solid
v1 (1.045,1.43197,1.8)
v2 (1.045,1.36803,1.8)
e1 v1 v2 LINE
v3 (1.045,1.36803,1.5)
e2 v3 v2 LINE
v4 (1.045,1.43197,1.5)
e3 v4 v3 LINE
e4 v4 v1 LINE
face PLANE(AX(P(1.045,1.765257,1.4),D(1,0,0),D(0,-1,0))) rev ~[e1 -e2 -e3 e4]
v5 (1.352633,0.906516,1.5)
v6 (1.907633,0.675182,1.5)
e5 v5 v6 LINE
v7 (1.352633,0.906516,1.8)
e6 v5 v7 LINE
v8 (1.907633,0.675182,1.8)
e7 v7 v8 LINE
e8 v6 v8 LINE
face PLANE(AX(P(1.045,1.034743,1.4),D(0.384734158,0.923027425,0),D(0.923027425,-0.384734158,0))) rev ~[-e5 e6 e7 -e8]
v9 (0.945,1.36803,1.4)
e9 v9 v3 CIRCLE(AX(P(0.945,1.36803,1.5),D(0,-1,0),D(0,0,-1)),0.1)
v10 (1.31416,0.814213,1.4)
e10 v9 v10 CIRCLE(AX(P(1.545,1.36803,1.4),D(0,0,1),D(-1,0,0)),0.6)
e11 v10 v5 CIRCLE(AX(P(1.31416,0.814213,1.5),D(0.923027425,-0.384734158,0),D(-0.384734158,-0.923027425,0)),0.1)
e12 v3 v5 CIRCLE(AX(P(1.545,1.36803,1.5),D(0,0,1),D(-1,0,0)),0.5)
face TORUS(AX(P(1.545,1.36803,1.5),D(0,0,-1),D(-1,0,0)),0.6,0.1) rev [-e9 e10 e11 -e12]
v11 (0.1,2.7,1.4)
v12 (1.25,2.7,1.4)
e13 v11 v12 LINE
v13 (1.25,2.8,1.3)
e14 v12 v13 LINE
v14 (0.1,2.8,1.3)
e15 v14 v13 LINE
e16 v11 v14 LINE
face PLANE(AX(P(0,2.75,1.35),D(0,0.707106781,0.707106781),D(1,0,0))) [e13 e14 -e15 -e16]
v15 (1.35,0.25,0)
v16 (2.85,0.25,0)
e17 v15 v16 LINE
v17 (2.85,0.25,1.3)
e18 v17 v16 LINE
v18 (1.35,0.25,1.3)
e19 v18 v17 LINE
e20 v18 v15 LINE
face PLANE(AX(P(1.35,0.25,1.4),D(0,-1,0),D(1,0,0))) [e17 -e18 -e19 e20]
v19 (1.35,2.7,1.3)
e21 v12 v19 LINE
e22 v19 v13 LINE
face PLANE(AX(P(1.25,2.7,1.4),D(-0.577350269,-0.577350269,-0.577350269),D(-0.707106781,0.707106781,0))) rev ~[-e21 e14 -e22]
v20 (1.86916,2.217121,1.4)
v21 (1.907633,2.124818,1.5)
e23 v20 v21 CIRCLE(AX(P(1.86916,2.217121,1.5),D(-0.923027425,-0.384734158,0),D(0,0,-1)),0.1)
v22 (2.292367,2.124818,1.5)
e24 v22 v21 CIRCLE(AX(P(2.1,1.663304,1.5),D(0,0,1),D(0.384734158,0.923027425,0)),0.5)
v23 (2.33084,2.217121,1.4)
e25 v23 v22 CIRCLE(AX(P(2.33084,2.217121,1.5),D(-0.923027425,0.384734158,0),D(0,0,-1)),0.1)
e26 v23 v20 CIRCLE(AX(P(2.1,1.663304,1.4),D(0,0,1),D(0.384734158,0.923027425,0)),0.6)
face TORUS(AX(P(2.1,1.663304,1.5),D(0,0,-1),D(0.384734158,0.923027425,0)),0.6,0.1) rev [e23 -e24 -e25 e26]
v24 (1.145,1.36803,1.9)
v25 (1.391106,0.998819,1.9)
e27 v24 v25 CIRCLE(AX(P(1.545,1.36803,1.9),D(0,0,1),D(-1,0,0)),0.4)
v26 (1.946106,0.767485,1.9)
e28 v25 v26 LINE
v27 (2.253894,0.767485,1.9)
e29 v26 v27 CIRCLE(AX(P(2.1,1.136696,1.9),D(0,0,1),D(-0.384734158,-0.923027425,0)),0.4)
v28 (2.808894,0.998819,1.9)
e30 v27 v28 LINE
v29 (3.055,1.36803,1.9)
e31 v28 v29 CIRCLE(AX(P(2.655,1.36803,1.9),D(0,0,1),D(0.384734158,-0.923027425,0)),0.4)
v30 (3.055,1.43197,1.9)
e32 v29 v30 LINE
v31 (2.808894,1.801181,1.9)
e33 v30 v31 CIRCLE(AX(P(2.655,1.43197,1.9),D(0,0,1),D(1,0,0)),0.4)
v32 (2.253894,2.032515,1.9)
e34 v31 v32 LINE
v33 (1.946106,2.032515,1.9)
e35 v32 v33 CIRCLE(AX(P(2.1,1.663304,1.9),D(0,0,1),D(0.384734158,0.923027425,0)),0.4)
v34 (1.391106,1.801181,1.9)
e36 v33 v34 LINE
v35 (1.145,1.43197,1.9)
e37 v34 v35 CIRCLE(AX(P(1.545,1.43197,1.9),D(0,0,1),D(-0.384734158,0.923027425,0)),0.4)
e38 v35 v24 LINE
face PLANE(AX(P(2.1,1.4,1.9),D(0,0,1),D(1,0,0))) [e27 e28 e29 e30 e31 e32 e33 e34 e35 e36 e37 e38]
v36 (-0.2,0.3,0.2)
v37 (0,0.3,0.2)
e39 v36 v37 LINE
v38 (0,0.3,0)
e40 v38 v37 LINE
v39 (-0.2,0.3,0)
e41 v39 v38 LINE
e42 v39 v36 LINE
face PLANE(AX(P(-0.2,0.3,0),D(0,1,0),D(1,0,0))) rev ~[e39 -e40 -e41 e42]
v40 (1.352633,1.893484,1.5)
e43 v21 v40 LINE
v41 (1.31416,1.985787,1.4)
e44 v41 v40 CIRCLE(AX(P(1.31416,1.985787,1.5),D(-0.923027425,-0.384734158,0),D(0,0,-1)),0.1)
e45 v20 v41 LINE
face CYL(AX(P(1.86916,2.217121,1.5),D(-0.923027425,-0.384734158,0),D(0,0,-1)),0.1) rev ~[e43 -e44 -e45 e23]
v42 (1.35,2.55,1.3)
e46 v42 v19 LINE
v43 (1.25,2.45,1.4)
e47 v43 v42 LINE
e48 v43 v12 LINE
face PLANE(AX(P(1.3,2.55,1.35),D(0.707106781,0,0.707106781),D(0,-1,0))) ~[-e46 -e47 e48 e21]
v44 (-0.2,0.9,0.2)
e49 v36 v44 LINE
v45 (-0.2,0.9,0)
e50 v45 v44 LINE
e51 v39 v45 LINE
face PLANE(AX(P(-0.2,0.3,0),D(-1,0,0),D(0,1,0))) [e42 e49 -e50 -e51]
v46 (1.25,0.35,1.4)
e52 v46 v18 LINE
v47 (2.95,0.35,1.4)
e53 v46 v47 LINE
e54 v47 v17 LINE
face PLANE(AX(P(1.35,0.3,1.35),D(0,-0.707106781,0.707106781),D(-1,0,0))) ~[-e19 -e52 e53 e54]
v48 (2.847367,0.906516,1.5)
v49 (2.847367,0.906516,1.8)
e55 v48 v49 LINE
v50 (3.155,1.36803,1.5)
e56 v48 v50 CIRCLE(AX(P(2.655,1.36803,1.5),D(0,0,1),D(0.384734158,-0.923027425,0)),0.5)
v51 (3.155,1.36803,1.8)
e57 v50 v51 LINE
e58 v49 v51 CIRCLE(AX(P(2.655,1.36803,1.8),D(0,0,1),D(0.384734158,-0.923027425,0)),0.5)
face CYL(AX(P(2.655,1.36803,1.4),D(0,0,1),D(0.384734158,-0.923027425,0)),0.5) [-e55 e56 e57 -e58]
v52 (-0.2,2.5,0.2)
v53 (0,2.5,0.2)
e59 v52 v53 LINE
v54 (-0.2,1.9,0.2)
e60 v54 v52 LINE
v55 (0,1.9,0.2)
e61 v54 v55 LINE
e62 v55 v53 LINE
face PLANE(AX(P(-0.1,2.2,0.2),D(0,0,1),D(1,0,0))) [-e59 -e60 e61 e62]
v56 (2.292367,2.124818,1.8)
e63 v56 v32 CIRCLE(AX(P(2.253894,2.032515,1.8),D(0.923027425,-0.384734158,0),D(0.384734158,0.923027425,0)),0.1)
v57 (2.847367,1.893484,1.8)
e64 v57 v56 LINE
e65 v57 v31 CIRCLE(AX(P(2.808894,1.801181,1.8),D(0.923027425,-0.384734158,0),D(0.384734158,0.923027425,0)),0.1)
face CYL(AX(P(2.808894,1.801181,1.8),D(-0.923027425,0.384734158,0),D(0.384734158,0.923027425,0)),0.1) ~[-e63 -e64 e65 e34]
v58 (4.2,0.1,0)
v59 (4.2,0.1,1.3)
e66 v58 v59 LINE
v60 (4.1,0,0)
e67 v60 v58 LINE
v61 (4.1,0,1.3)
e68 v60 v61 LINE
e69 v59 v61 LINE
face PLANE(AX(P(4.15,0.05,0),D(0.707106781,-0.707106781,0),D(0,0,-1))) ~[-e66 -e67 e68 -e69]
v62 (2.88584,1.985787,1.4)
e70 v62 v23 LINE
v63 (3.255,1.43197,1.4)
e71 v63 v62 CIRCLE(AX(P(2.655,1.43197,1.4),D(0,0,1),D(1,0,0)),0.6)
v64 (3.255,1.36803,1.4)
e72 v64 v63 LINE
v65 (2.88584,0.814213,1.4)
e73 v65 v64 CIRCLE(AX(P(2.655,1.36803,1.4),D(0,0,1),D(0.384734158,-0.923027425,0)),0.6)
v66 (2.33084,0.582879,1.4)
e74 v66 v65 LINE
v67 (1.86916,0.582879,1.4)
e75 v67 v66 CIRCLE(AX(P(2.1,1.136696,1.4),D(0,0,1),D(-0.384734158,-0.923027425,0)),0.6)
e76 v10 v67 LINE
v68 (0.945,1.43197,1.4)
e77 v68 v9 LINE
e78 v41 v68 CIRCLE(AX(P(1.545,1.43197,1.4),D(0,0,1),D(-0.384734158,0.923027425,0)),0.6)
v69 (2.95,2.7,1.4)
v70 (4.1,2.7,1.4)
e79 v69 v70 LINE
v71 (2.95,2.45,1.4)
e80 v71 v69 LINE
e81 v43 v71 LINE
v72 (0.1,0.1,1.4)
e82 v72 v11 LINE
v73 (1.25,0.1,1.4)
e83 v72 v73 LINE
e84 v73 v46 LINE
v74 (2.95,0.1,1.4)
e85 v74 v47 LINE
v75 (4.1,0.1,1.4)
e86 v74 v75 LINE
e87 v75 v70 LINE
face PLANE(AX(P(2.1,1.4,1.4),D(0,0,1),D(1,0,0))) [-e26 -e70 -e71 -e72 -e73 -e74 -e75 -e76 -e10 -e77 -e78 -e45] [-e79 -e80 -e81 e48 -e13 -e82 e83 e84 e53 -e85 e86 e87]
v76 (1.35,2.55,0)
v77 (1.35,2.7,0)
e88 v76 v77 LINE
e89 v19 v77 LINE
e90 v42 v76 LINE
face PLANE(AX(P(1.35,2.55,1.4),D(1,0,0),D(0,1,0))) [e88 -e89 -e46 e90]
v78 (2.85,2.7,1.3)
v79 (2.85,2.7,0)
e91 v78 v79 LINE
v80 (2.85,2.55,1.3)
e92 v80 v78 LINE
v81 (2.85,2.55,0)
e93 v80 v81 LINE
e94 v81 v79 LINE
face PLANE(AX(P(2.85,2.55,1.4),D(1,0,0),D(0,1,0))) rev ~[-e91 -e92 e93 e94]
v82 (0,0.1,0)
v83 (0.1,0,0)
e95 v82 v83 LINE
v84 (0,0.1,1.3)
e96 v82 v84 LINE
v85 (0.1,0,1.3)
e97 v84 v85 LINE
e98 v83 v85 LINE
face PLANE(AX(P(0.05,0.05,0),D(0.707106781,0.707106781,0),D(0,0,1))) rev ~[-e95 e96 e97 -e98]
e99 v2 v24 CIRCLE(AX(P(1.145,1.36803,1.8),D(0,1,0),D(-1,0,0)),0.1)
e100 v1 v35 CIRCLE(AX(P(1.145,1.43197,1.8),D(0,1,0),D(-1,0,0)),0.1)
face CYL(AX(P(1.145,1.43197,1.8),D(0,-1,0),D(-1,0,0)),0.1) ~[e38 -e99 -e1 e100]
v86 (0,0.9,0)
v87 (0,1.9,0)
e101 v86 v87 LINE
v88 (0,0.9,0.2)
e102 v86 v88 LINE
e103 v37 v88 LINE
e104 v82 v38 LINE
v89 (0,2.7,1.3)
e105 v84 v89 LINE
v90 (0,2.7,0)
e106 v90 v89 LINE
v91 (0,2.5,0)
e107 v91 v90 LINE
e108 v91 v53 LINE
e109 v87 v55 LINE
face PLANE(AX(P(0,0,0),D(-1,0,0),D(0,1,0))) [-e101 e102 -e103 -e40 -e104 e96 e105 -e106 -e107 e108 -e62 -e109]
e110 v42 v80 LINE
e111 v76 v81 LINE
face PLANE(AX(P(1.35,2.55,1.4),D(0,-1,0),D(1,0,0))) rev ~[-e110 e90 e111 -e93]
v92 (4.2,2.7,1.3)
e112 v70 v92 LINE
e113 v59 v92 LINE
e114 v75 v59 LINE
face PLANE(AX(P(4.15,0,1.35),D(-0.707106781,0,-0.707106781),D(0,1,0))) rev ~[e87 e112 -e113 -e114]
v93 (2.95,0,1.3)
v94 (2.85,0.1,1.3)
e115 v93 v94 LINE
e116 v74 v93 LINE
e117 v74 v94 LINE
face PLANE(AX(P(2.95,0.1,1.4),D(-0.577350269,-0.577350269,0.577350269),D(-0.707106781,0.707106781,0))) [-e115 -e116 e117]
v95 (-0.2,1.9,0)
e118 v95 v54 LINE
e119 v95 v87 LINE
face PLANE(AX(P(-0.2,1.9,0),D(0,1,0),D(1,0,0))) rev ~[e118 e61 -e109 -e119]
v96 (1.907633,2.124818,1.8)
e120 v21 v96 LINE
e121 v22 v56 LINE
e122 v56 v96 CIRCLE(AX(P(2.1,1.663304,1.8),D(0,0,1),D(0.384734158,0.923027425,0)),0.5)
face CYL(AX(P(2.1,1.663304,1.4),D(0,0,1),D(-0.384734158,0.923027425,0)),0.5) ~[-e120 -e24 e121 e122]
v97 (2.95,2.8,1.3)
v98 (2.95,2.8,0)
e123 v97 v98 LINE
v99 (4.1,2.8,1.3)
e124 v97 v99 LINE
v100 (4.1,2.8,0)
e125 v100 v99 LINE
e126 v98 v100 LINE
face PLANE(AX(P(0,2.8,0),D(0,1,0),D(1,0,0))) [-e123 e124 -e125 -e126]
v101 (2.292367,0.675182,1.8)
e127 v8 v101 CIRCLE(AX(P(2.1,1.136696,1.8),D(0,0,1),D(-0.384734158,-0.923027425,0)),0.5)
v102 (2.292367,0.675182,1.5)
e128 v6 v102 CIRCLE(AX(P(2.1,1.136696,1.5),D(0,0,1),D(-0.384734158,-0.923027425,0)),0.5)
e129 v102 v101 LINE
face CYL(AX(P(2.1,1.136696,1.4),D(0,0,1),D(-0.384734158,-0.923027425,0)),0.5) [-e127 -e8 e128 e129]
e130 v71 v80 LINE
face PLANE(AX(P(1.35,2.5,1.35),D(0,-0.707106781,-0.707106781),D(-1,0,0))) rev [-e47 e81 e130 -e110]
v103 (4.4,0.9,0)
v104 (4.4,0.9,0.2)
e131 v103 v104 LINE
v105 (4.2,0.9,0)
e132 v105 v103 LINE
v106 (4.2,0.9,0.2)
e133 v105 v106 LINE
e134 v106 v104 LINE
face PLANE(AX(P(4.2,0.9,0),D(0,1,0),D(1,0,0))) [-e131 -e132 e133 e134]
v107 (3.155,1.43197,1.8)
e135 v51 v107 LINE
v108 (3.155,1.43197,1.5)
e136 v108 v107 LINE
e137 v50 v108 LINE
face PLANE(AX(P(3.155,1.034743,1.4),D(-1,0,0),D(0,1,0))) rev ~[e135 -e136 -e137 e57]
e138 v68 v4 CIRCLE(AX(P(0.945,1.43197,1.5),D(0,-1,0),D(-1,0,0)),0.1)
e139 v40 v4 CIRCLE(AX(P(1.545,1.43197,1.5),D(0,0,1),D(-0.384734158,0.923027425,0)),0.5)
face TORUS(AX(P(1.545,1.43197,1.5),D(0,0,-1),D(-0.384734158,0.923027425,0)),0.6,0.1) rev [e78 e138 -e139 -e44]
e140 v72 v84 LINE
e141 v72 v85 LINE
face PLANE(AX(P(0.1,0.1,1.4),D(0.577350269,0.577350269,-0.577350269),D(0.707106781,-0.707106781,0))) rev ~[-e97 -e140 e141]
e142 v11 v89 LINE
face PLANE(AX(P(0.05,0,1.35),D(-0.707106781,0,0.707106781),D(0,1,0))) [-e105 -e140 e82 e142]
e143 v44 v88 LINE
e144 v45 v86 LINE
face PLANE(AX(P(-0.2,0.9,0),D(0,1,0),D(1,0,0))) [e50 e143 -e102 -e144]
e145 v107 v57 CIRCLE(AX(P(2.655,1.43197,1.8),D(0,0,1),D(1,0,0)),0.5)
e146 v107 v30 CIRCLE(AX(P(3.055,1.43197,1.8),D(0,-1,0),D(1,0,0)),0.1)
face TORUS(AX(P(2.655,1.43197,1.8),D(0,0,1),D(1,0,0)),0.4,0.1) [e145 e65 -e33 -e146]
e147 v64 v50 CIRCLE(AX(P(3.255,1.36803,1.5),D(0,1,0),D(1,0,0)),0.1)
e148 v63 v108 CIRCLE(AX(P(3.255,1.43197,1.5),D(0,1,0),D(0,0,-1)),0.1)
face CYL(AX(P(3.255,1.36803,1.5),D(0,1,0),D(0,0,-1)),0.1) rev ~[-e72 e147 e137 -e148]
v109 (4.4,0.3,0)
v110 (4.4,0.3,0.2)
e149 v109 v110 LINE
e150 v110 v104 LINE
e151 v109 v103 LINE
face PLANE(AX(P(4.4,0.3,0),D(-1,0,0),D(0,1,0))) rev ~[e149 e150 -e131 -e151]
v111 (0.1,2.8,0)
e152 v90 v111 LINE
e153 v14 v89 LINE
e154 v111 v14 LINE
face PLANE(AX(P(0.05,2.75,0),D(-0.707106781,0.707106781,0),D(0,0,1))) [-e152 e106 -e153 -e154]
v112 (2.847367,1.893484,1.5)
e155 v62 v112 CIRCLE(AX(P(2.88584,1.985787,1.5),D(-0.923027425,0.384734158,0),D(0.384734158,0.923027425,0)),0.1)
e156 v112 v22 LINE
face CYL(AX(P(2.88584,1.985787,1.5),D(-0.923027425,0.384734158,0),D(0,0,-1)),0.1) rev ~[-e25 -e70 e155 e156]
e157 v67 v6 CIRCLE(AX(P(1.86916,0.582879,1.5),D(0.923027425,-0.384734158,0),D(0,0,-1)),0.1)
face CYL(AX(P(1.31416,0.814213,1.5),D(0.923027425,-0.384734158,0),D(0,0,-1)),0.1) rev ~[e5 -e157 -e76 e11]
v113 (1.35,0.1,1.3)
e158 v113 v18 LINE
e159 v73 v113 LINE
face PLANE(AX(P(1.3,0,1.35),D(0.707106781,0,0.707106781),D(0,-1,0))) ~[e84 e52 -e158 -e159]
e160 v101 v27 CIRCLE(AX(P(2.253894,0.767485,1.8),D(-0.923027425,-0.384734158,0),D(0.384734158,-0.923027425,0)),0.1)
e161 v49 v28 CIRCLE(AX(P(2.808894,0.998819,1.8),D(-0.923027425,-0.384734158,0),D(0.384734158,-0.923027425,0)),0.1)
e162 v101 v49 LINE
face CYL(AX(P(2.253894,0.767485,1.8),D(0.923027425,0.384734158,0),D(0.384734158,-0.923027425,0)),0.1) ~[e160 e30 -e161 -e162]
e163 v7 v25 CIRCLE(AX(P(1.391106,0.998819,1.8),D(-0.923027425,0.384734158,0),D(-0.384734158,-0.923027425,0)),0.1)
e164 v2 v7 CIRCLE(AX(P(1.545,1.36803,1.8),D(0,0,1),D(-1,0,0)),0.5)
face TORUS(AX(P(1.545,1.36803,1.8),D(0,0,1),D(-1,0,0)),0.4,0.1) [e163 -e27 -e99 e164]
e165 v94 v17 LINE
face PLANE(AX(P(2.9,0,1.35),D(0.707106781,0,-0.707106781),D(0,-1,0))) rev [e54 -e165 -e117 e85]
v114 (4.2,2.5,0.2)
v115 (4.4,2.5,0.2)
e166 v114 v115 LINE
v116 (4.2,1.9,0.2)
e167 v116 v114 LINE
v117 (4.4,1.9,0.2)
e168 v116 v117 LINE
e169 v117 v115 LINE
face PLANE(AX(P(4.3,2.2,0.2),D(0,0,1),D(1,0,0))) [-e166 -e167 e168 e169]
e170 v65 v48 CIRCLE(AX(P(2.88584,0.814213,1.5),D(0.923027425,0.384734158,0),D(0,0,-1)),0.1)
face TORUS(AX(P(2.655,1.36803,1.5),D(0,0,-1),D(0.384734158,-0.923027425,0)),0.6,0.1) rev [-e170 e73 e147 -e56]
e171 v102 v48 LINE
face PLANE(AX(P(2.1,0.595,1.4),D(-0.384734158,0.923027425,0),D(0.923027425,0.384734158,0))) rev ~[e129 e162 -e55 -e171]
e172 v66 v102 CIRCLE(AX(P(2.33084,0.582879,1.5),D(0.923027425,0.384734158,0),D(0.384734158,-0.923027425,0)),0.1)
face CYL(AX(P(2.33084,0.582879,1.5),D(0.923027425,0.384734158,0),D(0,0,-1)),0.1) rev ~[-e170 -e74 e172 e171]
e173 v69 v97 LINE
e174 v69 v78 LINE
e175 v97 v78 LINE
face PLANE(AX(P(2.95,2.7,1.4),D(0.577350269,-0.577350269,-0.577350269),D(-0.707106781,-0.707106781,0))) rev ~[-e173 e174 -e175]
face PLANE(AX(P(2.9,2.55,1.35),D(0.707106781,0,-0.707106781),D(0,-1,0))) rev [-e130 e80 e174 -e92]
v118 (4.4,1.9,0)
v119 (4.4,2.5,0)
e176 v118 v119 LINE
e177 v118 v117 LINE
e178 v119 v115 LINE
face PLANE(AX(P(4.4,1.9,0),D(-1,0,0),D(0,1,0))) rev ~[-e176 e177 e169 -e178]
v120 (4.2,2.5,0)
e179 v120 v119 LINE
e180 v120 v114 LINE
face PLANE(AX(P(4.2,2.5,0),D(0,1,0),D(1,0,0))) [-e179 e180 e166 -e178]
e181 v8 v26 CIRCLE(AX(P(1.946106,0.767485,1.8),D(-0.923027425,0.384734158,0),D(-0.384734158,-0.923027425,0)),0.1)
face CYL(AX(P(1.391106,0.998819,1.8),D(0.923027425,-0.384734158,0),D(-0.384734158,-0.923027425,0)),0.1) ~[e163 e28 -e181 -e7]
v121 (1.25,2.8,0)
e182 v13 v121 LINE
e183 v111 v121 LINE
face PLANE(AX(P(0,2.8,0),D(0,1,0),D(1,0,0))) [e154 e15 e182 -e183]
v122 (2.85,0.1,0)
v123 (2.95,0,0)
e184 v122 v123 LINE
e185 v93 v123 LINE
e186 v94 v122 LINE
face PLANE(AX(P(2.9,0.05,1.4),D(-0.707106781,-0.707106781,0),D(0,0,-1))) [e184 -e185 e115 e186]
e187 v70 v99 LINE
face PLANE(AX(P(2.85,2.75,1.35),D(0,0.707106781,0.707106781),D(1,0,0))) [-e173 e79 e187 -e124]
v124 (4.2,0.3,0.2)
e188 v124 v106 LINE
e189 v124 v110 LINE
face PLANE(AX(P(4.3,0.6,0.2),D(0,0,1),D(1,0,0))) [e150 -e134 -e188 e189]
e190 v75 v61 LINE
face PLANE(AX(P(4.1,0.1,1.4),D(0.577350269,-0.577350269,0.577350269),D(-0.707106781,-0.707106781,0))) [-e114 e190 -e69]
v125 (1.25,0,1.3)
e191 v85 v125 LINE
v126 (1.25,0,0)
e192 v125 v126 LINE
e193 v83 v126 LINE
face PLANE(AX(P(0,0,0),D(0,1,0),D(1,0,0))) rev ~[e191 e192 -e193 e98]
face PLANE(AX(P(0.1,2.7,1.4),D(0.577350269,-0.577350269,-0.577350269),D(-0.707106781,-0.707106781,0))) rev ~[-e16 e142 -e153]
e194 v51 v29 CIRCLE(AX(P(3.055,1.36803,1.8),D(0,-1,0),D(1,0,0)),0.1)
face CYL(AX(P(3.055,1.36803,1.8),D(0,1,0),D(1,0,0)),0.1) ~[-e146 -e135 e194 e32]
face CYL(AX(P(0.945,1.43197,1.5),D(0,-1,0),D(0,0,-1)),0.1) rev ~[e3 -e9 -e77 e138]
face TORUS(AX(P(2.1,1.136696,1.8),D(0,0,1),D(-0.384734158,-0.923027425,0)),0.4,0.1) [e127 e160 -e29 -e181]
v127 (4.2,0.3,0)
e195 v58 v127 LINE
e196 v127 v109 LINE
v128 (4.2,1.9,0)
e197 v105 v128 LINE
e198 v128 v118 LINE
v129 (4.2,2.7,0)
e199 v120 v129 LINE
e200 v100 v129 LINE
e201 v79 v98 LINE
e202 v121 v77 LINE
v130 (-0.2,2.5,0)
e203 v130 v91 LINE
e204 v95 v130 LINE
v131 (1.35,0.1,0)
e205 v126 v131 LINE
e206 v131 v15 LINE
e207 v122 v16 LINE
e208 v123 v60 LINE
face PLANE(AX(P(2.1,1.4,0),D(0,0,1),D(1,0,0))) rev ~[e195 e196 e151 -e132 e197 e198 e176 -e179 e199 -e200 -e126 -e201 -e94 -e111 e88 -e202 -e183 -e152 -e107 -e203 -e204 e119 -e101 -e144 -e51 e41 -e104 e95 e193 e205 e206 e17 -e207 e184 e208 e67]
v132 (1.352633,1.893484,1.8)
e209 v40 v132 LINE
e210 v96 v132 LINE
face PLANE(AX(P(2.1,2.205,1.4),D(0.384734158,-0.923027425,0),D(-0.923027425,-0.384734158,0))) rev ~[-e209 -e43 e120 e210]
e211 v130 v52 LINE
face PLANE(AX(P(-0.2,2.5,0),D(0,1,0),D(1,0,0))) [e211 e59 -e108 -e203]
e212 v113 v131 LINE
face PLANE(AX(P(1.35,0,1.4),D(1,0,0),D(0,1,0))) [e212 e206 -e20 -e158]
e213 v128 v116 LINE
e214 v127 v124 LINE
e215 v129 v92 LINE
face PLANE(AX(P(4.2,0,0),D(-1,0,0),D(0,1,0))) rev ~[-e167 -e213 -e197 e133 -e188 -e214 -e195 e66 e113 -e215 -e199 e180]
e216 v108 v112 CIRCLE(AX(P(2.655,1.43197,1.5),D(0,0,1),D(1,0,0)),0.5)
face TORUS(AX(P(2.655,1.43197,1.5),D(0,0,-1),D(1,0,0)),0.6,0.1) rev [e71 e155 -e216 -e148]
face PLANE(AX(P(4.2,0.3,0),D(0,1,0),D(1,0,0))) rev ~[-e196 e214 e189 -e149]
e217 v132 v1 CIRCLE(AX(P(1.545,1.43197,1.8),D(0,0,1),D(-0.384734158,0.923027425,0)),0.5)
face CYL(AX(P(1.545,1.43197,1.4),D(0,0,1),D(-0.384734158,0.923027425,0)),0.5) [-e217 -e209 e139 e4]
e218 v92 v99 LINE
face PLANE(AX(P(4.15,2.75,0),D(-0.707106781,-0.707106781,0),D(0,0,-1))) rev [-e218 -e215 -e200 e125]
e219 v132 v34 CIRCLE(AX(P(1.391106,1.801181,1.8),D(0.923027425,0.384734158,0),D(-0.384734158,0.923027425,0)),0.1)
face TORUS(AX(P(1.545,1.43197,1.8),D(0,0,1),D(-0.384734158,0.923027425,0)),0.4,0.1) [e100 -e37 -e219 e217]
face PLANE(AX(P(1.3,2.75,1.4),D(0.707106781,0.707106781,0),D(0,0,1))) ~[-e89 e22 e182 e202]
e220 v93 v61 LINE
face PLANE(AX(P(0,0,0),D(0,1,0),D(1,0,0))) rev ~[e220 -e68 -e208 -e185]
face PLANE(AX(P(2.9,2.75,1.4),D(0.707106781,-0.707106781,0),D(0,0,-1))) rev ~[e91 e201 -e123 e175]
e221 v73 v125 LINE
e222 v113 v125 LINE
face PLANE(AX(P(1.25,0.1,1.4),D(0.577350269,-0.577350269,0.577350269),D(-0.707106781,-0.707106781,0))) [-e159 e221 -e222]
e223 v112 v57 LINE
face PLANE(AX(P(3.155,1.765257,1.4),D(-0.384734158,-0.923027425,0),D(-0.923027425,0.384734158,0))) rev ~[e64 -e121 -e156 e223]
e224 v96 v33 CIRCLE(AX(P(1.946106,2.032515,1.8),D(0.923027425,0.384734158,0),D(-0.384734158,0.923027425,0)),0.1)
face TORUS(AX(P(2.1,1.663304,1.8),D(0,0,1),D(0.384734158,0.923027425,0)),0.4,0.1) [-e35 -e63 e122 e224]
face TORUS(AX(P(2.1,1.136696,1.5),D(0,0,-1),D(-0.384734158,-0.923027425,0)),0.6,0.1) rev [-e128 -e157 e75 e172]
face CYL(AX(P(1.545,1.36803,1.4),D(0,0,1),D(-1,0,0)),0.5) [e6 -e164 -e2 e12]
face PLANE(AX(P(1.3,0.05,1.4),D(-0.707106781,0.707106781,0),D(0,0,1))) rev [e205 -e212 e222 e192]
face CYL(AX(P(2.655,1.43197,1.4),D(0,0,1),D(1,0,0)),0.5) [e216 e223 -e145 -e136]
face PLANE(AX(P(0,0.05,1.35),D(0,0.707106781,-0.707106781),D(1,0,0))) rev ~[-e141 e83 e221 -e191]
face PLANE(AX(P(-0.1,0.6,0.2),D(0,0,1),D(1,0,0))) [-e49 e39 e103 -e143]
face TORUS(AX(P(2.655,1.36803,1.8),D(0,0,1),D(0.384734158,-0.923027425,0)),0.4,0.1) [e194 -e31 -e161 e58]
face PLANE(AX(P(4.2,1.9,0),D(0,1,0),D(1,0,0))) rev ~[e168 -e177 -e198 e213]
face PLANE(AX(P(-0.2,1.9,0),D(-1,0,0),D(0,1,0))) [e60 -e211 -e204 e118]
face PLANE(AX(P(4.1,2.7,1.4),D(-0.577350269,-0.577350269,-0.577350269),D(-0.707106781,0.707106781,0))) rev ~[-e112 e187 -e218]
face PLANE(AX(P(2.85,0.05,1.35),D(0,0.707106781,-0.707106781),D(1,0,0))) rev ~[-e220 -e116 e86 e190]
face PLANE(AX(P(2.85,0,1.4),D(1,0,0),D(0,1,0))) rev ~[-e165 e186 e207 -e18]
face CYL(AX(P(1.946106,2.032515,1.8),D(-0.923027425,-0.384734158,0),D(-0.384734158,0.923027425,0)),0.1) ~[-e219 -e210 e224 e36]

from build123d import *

# Parameters (mm, degrees)
SKETCH1_W           = 4.2
SKETCH1_H           = 2.8
BOSS_EXTRUDE1_DEPTH = 1.4
SKETCH2_W           = 0.2
SKETCH2_H           = 0.6
BOSS_EXTRUDE2_DEPTH = 0.2
SKETCH3_W           = 1.5
SKETCH3_H           = 0.25
CUT_EXTRUDE1_DEPTH  = 2.4
BOSS_EXTRUDE3_DEPTH = 0.5
FILLET1_R           = 0.5
FILLET2_R           = 0.1
CHAMFER1_SIZE       = 0.1


with BuildPart() as part:
    # Sketch1 → Boss-Extrude1 (new body)
    with BuildSketch(Plane.XY):
        with Locations((2.1, 1.4)):
            Rectangle(SKETCH1_W, SKETCH1_H)
    extrude(amount=BOSS_EXTRUDE1_DEPTH)

    # Sketch2 → Boss-Extrude2 (add)
    with BuildSketch(Plane.XY):
        with Locations((4.3, 2.2)):
            Rectangle(SKETCH2_W, SKETCH2_H)
        with Locations((4.3, 0.6)):
            Rectangle(SKETCH2_W, SKETCH2_H)
        with Locations((-0.1, 2.2)):
            Rectangle(SKETCH2_W, SKETCH2_H)
        with Locations((-0.1, 0.6)):
            Rectangle(SKETCH2_W, SKETCH2_H)
    extrude(amount=BOSS_EXTRUDE2_DEPTH)

    # Sketch3 → Cut-Extrude1 (cut, through all)
    with BuildSketch(Plane.XY.offset(1.4)):
        with Locations((2.1, 2.675)):
            Rectangle(SKETCH3_W, SKETCH3_H)
        with Locations((2.1, 0.125)):
            Rectangle(SKETCH3_W, SKETCH3_H)
    extrude(amount=-CUT_EXTRUDE1_DEPTH, mode=Mode.SUBTRACT)

    # Sketch4 → Boss-Extrude3 (add)
    with BuildSketch(Plane.XY.offset(1.4)):
        Polygon((2.1, 2.205), (1.045, 1.765257339), (1.045, 1.034742661), (2.1, 0.595), (3.155, 1.034742661), (3.155, 1.765257339), align=None)
    extrude(amount=BOSS_EXTRUDE3_DEPTH)

    # Fillet1
    fillet1_edges = [part.edges().sort_by_distance(p)[0] for p in [
        (3.155, 1.765257339, 1.65),
        (2.1, 2.205, 1.65),
        (1.045, 1.765257339, 1.65),
        (1.045, 1.034742661, 1.65),
        (2.1, 0.595, 1.65),
        (3.155, 1.034742661, 1.65),
    ]]
    fillet(fillet1_edges, radius=FILLET1_R)

    # Fillet2
    fillet2_edges = [part.edges().sort_by_distance(p)[0] for p in [
        (1.630132921, 2.00915109, 1.4),
        (1.630132921, 2.00915109, 1.9),
        (2.569867079, 2.00915109, 1.4),
        (2.569867079, 2.00915109, 1.9),
        (1.045, 1.4, 1.9),
        (1.630132921, 0.79084891, 1.9),
        (2.569867079, 0.79084891, 1.9),
        (3.155, 1.4, 1.9),
        (2.1, 0.636695714, 1.9),
        (1.12895701, 1.090706199, 1.9),
        (3.07104299, 1.090706199, 1.9),
        (3.07104299, 1.709293801, 1.9),
        (1.12895701, 1.709293801, 1.9),
        (2.1, 2.163304286, 1.9),
        (1.045, 1.4, 1.4),
        (3.155, 1.4, 1.4),
        (2.569867079, 0.79084891, 1.4),
        (1.630132921, 0.79084891, 1.4),
        (2.1, 2.163304286, 1.4),
        (1.12895701, 1.709293801, 1.4),
        (3.07104299, 1.709293801, 1.4),
        (3.07104299, 1.090706199, 1.4),
        (1.12895701, 1.090706199, 1.4),
        (2.1, 0.636695714, 1.4),
    ]]
    fillet(fillet2_edges, radius=FILLET2_R)

    # Chamfer1
    chamfer1_edges = [part.edges().sort_by_distance(p)[0] for p in [
        (4.2, 2.8, 0.7),
        (2.85, 2.8, 0.7),
        (1.35, 2.8, 0.7),
        (0, 2.8, 0.7),
        (0, 0, 0.7),
        (1.35, 0, 0.7),
        (2.85, 0, 0.7),
        (4.2, 0, 0.7),
        (4.2, 1.4, 1.4),
        (3.525, 2.8, 1.4),
        (2.85, 2.675, 1.4),
        (2.1, 2.55, 1.4),
        (1.35, 2.675, 1.4),
        (0.675, 2.8, 1.4),
        (0, 1.4, 1.4),
        (3.525, 0, 1.4),
        (2.85, 0.125, 1.4),
        (2.1, 0.25, 1.4),
        (1.35, 0.125, 1.4),
        (0.675, 0, 1.4),
    ]]
    chamfer(chamfer1_edges, length=CHAMFER1_SIZE)


solid = part.part
